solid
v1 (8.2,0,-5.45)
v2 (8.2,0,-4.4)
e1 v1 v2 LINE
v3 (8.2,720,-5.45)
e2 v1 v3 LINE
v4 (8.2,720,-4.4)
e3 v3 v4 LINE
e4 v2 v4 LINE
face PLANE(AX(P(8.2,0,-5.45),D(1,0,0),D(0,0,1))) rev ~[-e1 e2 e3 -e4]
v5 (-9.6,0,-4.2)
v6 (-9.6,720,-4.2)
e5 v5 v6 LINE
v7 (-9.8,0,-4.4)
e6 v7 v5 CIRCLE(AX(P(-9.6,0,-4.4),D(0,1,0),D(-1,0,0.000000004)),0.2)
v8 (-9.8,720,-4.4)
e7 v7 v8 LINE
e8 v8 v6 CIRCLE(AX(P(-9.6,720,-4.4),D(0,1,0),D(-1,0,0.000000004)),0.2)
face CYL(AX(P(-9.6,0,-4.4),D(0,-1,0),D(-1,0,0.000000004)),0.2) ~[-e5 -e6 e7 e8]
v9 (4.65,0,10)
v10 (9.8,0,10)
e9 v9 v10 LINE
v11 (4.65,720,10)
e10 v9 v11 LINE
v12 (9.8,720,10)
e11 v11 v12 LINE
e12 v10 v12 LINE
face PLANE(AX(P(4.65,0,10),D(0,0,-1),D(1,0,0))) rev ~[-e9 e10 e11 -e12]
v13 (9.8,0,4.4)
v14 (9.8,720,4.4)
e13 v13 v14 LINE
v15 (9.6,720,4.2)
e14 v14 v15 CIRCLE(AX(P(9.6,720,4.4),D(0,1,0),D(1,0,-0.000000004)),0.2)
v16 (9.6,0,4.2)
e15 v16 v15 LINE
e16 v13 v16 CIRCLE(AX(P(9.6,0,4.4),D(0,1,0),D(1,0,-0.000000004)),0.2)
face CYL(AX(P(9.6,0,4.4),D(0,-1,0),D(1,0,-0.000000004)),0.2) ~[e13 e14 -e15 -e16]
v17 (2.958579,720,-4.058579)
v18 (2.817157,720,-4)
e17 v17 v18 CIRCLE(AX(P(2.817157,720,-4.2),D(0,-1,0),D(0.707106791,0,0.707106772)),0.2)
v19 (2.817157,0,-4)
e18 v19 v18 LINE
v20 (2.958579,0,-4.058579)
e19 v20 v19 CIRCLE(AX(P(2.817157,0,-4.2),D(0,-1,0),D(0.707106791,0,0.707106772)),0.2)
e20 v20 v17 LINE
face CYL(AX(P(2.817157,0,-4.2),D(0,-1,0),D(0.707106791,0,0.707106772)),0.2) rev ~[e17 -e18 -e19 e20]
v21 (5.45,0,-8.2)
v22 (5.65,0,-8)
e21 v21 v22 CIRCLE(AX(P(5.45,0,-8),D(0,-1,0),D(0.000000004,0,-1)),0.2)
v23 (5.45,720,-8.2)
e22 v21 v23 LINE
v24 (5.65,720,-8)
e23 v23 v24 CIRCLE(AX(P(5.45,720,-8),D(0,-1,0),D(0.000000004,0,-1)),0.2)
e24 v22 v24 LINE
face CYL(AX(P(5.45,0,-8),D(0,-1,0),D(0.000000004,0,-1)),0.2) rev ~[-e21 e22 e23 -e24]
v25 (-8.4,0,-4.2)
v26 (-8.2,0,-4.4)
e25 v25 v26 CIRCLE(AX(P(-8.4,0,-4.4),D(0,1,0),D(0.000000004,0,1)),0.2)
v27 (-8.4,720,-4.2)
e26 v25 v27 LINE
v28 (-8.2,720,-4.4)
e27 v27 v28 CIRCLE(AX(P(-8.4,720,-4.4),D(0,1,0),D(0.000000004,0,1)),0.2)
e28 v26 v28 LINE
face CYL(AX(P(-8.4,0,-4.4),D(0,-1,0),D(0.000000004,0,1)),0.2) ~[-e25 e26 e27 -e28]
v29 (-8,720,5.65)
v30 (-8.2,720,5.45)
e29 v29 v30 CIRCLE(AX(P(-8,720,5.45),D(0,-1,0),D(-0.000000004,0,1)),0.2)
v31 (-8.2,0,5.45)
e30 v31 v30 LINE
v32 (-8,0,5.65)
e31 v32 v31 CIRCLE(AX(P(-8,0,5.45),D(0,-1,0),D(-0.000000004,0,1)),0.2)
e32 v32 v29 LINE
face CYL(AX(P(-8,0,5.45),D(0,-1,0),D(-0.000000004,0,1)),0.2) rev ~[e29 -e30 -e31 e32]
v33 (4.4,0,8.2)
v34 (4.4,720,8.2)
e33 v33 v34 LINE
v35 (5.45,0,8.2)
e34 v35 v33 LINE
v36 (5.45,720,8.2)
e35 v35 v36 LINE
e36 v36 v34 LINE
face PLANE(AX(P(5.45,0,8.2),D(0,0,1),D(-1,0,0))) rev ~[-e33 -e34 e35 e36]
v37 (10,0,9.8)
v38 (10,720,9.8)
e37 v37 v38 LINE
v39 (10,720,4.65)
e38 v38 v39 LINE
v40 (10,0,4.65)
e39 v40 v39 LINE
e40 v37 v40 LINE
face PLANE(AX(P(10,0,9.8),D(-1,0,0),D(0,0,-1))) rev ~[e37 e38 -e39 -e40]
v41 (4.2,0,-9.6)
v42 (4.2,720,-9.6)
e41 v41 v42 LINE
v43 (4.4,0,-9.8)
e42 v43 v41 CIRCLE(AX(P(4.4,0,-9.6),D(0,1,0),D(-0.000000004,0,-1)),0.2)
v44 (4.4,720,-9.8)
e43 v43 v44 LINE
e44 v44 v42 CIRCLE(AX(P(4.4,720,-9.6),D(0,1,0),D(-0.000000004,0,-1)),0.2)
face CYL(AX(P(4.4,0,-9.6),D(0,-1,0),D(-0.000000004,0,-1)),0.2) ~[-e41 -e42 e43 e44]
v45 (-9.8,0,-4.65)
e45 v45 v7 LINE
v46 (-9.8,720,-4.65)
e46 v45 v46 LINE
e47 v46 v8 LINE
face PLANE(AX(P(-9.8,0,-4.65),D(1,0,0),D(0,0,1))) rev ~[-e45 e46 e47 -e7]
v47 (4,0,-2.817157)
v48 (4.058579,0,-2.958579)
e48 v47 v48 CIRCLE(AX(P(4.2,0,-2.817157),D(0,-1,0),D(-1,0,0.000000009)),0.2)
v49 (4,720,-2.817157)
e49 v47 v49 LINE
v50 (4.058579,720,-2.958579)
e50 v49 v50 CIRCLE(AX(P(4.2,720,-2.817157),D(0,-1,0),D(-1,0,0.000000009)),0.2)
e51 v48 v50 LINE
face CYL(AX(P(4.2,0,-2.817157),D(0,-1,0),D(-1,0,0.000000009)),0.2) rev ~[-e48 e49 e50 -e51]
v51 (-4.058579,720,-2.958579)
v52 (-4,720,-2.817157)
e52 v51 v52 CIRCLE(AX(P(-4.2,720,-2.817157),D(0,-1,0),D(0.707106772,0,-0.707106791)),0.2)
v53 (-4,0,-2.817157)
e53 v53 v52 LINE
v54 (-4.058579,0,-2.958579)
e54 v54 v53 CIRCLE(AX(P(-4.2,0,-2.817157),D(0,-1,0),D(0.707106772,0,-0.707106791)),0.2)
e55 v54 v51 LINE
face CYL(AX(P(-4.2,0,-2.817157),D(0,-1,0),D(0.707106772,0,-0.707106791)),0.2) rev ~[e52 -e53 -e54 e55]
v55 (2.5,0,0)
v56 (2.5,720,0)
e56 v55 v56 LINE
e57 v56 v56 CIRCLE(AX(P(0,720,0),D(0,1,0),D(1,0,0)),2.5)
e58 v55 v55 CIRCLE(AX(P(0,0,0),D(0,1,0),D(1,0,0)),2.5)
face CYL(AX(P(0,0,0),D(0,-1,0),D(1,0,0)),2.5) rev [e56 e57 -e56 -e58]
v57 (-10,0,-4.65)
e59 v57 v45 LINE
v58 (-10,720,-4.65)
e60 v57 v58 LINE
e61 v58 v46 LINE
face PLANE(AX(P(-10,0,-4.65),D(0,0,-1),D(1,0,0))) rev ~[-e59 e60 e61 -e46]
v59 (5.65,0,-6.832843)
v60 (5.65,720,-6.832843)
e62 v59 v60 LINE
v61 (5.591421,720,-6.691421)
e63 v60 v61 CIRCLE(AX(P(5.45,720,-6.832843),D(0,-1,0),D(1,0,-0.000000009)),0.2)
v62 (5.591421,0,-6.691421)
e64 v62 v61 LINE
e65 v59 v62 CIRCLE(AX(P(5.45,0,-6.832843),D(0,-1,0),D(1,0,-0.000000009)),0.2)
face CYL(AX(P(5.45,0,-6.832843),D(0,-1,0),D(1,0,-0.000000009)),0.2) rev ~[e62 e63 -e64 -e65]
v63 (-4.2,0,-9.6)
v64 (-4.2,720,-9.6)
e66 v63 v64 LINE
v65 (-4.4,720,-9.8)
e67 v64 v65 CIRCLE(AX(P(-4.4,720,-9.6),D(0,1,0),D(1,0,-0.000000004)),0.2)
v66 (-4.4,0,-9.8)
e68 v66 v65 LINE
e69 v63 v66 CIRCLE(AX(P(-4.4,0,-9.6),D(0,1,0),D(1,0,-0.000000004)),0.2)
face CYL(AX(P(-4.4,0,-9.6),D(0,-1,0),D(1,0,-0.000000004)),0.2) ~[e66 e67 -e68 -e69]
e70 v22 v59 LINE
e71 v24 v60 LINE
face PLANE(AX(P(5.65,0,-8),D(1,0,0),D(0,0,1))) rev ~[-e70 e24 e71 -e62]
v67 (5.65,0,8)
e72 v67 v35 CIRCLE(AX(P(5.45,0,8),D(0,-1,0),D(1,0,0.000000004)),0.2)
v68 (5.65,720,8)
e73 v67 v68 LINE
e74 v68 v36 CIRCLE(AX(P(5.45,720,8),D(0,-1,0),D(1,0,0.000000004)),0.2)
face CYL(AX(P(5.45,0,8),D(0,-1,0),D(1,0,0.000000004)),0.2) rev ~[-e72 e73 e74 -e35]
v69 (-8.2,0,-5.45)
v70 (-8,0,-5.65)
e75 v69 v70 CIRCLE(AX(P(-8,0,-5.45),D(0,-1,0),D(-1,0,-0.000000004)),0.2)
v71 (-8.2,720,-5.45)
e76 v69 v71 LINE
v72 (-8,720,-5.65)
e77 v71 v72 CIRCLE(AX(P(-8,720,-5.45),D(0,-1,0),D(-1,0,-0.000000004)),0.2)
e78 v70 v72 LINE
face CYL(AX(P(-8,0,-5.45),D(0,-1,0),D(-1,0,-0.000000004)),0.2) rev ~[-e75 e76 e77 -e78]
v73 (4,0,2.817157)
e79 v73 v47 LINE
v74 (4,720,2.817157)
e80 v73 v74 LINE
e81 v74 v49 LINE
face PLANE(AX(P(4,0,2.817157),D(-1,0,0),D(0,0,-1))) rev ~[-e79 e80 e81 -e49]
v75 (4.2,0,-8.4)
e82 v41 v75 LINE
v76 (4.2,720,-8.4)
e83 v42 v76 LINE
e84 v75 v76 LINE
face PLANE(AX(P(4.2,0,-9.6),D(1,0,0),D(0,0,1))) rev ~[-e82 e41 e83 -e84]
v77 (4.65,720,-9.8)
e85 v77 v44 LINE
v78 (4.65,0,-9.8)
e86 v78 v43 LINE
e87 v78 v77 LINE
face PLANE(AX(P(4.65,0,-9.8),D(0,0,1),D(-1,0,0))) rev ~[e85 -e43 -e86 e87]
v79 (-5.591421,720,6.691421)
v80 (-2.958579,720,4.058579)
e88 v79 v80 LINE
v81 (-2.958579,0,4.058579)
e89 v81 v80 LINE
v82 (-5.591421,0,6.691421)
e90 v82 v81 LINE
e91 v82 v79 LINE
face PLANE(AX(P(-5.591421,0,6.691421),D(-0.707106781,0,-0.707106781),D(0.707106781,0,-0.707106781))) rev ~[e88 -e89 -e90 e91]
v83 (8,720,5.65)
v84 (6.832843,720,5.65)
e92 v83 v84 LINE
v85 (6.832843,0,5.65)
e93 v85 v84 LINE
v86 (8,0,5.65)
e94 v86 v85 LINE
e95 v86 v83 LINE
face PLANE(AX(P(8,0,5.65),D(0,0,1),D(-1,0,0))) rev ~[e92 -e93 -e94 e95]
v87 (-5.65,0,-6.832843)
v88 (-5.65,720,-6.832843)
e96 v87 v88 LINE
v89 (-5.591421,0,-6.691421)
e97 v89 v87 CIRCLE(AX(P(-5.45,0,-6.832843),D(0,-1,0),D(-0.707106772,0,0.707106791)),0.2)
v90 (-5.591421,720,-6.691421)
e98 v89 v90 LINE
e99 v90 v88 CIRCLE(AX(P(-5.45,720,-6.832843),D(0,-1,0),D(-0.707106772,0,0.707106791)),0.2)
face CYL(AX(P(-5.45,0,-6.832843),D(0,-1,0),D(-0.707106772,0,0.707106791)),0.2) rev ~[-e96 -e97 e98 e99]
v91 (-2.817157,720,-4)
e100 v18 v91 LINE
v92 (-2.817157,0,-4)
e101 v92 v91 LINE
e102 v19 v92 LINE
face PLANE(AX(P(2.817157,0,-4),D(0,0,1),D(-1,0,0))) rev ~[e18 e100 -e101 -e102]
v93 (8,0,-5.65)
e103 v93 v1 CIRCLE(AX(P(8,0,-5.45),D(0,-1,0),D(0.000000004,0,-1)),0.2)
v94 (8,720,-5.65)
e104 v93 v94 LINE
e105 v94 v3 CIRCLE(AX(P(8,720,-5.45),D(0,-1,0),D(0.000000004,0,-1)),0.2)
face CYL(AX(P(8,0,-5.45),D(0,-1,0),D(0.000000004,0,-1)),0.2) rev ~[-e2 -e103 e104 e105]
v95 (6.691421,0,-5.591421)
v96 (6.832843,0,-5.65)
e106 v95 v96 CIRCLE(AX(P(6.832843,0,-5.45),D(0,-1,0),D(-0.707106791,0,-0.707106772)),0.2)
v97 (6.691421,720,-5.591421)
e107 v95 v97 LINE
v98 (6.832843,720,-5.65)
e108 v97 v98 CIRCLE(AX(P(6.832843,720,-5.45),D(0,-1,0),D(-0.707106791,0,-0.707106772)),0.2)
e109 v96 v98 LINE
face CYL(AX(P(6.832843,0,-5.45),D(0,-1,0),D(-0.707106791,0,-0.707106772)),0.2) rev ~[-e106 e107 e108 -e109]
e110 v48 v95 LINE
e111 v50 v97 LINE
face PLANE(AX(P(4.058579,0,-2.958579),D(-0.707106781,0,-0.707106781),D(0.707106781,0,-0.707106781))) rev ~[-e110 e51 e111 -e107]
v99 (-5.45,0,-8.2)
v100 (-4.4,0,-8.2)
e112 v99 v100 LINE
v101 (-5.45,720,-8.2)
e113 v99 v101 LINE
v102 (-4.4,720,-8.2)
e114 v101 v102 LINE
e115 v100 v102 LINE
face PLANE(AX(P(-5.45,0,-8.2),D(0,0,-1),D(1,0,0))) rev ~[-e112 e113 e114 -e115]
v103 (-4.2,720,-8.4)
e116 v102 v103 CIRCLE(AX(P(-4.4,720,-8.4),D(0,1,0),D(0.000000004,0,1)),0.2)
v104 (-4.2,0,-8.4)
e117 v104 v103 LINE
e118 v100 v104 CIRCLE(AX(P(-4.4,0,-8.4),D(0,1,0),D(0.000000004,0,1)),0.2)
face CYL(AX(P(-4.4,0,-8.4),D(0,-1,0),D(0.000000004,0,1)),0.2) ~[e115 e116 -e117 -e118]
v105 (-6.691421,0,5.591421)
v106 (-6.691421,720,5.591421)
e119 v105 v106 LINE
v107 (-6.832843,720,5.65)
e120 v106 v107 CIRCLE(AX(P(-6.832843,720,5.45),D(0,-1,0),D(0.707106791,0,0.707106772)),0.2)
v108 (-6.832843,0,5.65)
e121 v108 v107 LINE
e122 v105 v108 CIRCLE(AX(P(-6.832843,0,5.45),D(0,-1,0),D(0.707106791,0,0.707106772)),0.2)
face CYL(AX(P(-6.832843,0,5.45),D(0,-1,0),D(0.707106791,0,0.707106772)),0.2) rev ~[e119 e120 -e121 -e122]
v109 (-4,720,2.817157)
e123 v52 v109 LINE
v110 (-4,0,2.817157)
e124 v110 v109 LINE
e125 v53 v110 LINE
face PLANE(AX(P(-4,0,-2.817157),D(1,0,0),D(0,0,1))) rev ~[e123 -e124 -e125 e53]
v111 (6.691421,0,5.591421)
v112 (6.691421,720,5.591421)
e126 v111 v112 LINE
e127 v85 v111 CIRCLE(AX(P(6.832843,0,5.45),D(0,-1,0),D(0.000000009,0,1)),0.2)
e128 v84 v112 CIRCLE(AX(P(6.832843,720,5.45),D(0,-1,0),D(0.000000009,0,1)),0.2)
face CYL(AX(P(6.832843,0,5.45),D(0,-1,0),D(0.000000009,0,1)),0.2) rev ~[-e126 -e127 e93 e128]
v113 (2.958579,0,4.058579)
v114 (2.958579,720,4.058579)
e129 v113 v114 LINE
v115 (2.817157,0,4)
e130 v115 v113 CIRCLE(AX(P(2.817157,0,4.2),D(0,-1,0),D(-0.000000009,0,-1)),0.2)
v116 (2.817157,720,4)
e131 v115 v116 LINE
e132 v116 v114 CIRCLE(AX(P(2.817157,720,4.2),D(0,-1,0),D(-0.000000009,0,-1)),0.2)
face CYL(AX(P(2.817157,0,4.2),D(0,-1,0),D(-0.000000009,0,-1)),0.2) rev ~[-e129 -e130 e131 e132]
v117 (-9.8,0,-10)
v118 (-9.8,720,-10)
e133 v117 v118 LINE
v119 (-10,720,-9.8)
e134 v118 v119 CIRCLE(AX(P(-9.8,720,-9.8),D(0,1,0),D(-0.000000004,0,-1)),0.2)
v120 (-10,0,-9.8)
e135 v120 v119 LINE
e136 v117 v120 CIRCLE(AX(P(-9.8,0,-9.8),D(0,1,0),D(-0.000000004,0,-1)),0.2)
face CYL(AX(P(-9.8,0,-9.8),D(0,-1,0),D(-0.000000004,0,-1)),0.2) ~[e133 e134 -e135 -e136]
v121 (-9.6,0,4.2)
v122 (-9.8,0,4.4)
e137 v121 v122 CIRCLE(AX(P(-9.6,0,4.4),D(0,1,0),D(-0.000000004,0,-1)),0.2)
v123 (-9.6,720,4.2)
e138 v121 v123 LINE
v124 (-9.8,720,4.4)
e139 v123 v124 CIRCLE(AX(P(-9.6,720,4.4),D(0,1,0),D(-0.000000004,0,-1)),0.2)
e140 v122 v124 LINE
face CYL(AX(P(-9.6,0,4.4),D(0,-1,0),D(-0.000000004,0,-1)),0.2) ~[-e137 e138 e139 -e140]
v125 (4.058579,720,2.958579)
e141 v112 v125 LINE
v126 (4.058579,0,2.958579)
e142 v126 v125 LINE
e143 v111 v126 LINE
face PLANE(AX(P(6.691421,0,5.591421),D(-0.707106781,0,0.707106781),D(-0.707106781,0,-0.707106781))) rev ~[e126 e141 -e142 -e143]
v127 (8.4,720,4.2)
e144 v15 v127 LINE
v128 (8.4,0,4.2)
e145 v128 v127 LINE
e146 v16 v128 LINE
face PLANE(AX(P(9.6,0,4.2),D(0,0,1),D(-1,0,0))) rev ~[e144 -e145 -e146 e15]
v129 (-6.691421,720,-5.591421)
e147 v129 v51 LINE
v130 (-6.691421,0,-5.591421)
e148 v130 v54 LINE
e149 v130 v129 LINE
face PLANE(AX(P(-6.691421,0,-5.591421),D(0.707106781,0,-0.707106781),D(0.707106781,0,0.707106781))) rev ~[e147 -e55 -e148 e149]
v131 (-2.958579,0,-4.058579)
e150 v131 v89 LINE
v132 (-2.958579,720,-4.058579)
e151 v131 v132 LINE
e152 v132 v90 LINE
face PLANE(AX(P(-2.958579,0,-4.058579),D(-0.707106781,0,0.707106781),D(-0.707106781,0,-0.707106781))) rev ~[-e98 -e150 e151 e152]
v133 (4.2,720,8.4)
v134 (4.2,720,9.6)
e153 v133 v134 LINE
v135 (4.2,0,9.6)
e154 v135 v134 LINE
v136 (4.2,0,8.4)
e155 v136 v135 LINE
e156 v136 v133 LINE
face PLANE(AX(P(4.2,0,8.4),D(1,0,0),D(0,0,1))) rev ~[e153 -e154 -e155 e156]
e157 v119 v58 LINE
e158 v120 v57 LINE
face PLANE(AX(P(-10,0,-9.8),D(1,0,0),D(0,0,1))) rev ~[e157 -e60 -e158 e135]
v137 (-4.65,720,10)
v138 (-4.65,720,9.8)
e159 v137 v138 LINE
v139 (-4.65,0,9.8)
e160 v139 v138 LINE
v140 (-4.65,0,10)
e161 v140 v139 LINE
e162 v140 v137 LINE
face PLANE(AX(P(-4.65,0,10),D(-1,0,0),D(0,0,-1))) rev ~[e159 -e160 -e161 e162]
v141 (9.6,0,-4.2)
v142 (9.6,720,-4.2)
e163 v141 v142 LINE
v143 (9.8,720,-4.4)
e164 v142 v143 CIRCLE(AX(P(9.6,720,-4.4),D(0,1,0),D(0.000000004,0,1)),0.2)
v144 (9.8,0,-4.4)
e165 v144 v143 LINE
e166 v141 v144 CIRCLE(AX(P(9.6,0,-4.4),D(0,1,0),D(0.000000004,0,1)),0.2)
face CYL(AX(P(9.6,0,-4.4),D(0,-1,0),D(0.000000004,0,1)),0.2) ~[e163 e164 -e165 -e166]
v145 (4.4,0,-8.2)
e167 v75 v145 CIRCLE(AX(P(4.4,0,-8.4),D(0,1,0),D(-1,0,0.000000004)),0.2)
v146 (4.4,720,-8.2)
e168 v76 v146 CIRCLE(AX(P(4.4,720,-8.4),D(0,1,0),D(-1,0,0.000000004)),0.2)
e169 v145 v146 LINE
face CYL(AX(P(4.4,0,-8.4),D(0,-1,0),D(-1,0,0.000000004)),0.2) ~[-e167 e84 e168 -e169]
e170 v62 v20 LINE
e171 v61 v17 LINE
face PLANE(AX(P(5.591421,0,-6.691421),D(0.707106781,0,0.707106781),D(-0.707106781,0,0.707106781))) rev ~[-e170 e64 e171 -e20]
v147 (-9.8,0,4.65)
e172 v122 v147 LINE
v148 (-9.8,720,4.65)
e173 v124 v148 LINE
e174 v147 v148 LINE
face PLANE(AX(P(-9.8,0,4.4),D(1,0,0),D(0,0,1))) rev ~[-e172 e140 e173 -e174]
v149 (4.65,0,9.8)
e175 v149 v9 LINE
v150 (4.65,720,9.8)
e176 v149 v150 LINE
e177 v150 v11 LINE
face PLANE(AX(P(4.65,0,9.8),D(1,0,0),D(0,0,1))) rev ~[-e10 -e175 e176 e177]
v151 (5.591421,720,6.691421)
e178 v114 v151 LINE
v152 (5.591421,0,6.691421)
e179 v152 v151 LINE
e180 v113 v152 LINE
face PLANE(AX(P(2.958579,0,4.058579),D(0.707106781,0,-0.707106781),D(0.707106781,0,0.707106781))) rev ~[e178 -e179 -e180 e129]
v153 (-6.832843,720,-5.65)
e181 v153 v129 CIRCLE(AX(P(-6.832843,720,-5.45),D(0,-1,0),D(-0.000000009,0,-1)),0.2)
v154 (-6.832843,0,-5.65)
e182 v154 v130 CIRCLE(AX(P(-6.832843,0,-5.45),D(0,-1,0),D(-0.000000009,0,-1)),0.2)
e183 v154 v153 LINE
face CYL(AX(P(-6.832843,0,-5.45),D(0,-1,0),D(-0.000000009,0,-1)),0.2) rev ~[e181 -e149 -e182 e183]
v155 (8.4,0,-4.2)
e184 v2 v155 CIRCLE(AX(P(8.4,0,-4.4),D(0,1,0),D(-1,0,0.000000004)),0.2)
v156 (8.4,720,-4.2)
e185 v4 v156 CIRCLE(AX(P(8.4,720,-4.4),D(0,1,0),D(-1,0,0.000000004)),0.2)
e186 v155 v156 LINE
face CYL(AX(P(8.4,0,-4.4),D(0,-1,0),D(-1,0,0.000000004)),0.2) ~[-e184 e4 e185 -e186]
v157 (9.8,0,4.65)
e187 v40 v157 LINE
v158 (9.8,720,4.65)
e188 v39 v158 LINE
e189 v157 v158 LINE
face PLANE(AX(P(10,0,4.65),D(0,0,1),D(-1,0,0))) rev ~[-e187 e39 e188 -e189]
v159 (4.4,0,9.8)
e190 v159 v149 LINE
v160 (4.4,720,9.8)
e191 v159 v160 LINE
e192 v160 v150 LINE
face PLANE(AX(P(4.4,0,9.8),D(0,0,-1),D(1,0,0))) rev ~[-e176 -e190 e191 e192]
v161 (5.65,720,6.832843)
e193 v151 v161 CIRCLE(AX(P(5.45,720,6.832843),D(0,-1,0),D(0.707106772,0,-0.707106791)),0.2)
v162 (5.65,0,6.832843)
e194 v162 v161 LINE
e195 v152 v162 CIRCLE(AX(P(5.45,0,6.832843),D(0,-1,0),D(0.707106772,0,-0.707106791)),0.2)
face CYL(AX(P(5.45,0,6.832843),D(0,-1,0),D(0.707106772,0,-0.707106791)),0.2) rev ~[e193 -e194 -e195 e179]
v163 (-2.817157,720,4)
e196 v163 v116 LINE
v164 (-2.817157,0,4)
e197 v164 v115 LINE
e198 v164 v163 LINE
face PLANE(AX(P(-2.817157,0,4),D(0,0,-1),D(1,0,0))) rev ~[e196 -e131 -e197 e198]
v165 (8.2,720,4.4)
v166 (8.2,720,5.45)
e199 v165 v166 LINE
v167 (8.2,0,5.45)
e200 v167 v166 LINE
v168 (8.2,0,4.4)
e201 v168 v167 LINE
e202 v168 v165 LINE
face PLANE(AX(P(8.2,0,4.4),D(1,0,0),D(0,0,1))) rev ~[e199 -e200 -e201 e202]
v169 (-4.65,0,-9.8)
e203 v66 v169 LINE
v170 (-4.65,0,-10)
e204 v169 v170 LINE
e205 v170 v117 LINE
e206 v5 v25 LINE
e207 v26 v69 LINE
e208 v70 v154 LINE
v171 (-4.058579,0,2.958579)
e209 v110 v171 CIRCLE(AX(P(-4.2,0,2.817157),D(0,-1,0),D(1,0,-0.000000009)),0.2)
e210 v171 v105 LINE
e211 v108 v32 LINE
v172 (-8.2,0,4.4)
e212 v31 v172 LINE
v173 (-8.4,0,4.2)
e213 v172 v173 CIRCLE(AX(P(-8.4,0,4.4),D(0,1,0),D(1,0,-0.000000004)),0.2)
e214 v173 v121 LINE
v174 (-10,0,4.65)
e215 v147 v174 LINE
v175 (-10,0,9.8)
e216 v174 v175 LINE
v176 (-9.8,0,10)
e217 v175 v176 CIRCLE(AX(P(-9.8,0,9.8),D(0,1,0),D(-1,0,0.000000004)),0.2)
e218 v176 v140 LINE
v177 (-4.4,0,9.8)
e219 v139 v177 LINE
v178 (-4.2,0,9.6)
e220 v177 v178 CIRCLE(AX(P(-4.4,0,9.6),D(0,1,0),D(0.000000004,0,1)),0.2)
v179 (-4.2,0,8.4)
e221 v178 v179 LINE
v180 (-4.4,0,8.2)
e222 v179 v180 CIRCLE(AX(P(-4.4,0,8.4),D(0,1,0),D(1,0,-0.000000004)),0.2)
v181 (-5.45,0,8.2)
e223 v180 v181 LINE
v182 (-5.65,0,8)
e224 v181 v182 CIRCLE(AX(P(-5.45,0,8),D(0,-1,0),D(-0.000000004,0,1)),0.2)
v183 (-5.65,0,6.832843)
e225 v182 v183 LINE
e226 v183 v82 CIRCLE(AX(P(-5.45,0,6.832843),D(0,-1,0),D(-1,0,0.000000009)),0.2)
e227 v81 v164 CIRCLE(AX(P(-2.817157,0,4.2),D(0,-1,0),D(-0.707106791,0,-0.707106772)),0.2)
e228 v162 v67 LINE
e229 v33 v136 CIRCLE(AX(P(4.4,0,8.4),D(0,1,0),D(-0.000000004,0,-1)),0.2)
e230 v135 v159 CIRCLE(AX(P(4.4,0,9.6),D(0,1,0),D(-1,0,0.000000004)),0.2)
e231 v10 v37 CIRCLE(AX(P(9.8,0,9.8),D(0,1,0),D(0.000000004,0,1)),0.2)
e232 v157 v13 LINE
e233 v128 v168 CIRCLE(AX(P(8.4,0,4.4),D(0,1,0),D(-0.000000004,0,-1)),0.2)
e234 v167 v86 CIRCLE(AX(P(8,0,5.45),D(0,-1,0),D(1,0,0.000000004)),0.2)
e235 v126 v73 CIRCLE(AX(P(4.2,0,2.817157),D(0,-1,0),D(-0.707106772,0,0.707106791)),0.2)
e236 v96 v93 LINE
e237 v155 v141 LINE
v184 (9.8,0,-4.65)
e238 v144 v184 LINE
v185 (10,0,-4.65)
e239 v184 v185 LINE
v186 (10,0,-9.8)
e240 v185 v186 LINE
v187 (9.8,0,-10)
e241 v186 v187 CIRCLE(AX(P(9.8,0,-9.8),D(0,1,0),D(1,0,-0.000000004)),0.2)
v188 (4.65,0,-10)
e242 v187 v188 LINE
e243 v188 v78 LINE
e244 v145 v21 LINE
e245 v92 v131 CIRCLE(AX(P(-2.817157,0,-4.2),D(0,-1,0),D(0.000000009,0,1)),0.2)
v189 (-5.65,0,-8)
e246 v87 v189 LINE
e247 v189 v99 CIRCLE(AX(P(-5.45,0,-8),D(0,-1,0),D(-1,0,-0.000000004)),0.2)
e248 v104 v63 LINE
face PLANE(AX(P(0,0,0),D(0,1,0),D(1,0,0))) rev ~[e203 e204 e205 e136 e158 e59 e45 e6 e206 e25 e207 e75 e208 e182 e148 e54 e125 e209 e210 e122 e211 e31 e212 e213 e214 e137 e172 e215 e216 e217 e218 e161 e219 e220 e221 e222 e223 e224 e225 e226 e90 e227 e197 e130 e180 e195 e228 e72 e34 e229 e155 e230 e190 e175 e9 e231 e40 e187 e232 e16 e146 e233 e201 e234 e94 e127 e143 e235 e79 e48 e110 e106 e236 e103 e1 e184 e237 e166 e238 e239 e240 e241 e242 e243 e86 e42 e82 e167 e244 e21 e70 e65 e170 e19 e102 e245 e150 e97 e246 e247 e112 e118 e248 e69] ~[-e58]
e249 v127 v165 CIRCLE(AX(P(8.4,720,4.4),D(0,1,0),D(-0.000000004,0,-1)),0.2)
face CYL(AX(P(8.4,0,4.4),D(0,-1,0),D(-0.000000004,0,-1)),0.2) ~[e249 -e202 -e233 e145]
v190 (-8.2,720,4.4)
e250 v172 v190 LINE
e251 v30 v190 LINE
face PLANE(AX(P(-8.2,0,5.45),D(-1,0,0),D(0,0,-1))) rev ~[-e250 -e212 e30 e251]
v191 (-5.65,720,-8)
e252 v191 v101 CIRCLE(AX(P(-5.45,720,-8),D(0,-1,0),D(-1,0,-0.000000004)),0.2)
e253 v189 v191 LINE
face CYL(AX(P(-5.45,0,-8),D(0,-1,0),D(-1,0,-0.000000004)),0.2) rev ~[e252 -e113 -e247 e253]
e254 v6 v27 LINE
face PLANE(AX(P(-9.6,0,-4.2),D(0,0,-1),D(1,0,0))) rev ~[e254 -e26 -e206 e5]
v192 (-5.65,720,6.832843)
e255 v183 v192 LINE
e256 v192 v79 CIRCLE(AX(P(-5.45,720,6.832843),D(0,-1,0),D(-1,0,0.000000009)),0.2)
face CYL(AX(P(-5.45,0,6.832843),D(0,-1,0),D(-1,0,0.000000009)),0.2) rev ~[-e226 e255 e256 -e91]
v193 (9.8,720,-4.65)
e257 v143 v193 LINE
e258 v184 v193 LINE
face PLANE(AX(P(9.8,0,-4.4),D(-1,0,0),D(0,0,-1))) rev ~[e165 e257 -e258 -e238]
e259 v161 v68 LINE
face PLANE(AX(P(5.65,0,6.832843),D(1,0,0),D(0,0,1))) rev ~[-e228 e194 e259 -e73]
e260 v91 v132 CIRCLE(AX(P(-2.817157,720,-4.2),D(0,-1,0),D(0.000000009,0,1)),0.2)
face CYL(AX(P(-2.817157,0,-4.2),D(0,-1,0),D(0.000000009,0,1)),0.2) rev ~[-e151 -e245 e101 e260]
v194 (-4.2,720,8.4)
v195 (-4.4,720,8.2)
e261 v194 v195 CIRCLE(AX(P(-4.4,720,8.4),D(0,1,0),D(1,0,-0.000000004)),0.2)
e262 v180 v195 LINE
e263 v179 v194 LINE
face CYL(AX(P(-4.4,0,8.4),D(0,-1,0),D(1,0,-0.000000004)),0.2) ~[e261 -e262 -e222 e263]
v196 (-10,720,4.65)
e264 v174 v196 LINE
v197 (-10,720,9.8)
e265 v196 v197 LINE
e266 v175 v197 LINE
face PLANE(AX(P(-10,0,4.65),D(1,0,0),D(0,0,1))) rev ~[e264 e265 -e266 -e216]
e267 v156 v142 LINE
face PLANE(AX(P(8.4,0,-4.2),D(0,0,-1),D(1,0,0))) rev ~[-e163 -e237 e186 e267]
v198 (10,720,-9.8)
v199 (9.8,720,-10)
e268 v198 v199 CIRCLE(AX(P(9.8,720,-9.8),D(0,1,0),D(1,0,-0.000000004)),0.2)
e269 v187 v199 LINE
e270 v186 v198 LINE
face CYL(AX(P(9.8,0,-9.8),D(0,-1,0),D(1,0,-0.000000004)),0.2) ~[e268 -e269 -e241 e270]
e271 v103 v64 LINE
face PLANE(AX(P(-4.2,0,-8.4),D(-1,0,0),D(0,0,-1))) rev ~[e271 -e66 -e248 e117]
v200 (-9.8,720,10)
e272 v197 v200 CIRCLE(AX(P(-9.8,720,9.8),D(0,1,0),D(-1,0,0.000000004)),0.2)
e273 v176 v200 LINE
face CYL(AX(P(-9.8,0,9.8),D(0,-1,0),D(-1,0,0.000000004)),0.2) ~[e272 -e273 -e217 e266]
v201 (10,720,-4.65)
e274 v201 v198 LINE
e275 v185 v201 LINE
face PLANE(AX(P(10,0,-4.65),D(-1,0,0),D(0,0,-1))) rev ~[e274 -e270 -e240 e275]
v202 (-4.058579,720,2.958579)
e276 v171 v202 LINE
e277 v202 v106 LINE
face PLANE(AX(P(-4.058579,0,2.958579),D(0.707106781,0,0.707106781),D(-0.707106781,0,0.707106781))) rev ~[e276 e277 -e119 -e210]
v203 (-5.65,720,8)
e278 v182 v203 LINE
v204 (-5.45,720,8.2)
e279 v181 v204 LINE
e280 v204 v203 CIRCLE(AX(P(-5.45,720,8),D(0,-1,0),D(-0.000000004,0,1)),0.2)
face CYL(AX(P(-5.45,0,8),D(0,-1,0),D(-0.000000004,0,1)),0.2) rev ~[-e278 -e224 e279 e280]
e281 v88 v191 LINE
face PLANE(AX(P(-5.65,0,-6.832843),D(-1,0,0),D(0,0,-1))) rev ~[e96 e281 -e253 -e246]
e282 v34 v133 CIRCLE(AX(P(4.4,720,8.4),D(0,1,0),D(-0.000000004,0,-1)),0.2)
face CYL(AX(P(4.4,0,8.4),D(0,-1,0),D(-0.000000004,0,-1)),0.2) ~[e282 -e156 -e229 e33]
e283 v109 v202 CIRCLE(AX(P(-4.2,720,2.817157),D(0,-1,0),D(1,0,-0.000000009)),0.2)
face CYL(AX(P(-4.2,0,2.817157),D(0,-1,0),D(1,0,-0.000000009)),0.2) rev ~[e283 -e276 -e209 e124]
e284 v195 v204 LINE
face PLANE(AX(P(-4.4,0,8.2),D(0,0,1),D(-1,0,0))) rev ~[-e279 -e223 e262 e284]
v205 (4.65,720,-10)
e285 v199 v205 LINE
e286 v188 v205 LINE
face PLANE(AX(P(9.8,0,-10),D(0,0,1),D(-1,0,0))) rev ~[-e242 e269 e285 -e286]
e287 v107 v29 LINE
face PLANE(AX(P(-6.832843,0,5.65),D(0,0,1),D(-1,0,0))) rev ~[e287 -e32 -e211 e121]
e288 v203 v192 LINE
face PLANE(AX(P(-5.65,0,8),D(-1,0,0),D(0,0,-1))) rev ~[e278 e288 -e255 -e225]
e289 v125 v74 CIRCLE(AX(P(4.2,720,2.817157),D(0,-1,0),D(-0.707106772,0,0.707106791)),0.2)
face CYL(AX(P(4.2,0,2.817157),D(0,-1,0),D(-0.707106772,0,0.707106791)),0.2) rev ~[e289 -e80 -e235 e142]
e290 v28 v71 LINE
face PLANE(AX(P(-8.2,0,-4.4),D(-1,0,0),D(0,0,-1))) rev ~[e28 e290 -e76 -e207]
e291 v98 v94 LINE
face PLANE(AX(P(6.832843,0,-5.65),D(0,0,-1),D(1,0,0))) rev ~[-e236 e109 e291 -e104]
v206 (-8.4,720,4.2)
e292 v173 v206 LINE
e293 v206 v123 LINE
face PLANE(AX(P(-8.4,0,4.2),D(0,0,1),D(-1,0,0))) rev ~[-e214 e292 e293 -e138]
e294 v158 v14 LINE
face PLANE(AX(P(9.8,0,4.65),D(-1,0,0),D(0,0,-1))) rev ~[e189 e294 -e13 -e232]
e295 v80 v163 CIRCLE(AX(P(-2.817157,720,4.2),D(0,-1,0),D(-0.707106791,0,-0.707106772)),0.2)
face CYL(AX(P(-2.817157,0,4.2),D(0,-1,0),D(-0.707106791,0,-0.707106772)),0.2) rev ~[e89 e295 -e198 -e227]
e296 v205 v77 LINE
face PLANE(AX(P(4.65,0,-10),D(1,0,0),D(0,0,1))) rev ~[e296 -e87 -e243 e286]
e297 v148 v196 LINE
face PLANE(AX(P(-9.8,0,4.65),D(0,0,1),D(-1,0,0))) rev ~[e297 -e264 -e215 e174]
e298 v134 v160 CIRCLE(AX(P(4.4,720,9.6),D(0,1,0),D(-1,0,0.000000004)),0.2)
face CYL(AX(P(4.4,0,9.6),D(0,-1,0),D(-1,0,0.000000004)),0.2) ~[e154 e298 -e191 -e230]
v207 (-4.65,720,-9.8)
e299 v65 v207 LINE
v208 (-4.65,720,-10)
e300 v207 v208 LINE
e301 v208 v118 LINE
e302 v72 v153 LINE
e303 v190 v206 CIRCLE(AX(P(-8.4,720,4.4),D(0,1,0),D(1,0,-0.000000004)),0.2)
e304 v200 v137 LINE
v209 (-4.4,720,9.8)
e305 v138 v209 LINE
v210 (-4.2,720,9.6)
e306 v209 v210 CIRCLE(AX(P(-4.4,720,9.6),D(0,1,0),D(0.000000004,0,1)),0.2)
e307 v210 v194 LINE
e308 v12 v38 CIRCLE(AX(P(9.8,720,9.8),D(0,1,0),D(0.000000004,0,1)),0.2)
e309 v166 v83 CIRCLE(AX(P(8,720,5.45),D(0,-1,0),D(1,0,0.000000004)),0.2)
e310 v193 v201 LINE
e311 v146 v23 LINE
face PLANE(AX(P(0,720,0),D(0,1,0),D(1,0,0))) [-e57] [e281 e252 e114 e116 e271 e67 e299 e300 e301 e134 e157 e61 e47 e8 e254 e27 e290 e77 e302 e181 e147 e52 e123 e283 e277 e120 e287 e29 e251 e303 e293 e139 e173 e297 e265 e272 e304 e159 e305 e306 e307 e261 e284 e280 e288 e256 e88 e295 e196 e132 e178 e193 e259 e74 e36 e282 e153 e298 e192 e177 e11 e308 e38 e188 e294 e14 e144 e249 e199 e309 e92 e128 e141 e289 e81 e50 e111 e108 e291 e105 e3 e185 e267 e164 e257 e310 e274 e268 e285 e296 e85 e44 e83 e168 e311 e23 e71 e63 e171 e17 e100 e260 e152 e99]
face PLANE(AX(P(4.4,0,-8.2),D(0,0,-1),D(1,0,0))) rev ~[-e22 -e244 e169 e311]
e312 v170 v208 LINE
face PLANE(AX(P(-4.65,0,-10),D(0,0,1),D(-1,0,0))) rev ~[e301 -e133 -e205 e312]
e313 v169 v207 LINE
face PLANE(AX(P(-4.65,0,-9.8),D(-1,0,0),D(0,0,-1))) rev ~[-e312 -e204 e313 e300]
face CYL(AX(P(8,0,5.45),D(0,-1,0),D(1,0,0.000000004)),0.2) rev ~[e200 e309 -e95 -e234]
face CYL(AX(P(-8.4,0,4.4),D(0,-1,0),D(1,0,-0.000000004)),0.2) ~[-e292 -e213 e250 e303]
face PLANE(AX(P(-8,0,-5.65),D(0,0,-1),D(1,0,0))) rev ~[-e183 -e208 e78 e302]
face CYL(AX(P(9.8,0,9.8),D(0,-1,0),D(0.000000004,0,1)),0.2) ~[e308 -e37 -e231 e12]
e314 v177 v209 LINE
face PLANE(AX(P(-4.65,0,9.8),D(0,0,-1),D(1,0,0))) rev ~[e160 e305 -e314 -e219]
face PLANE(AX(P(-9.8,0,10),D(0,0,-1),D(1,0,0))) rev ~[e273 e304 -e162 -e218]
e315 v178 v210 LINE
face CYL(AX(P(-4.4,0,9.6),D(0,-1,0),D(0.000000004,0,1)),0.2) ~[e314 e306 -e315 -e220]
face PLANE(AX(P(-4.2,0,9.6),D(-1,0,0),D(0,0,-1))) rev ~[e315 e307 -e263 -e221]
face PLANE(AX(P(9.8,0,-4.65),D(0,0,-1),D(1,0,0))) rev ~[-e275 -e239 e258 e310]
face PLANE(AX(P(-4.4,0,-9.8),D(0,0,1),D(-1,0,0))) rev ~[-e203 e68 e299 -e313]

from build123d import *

# Parameters (mm, degrees)
SKETCH1_R           = 2.5
BOSS_EXTRUDE1_DEPTH = 720


with BuildPart() as part:
    # Sketch1 → Boss-Extrude1 (new body)
    with BuildSketch(Plane(origin=(0, 0, 0), x_dir=(1, 0, 0), z_dir=(0, 1, 0))):
        with BuildLine():
            Line((-10, 4.65), (-9.8, 4.65))
            Line((-9.8, 4.65), (-9.8, 4.4))
            ThreePointArc((-9.8, 4.4), (-9.741421356, 4.258578644), (-9.6, 4.2))
            Line((-9.6, 4.2), (-8.4, 4.2))
            ThreePointArc((-8.4, 4.2), (-8.258578644, 4.258578644), (-8.2, 4.4))
            Line((-8.2, 4.4), (-8.2, 5.45))
            ThreePointArc((-8.2, 5.45), (-8.141421356, 5.591421356), (-8, 5.65))
            Line((-8, 5.65), (-6.832842712, 5.65))
            ThreePointArc((-6.832842712, 5.65), (-6.756306026, 5.634775907), (-6.691421356, 5.591421356))
            Line((-6.691421356, 5.591421356), (-4.058578644, 2.958578644))
            ThreePointArc((-4.058578644, 2.958578644), (-4.015224093, 2.893693974), (-4, 2.817157288))
            Line((-4, 2.817157288), (-4, -2.817157288))
            ThreePointArc((-4, -2.817157288), (-4.015224093, -2.893693974), (-4.058578644, -2.958578644))
            Line((-4.058578644, -2.958578644), (-6.691421356, -5.591421356))
            ThreePointArc((-6.691421356, -5.591421356), (-6.756306026, -5.634775907), (-6.832842712, -5.65))
            Line((-6.832842712, -5.65), (-8, -5.65))
            ThreePointArc((-8, -5.65), (-8.141421356, -5.591421356), (-8.2, -5.45))
            Line((-8.2, -5.45), (-8.2, -4.4))
            ThreePointArc((-8.2, -4.4), (-8.258578644, -4.258578644), (-8.4, -4.2))
            Line((-8.4, -4.2), (-9.6, -4.2))
            ThreePointArc((-9.6, -4.2), (-9.741421356, -4.258578644), (-9.8, -4.4))
            Line((-9.8, -4.4), (-9.8, -4.65))
            Line((-9.8, -4.65), (-10, -4.65))
            Line((-10, -4.65), (-10, -9.8))
            ThreePointArc((-10, -9.8), (-9.941421356, -9.941421356), (-9.8, -10))
            Line((-9.8, -10), (-4.65, -10))
            Line((-4.65, -10), (-4.65, -9.8))
            Line((-4.65, -9.8), (-4.4, -9.8))
            ThreePointArc((-4.4, -9.8), (-4.258578644, -9.741421356), (-4.2, -9.6))
            Line((-4.2, -9.6), (-4.2, -8.4))
            ThreePointArc((-4.2, -8.4), (-4.258578644, -8.258578644), (-4.4, -8.2))
            Line((-4.4, -8.2), (-5.45, -8.2))
            ThreePointArc((-5.45, -8.2), (-5.591421356, -8.141421356), (-5.65, -8))
            Line((-5.65, -8), (-5.65, -6.832842712))
            ThreePointArc((-5.65, -6.832842712), (-5.634775907, -6.756306026), (-5.591421356, -6.691421356))
            Line((-5.591421356, -6.691421356), (-2.958578644, -4.058578644))
            ThreePointArc((-2.958578644, -4.058578644), (-2.893693974, -4.015224093), (-2.817157288, -4))
            Line((-2.817157288, -4), (2.817157288, -4))
            ThreePointArc((2.817157288, -4), (2.893693974, -4.015224093), (2.958578644, -4.058578644))
            Line((2.958578644, -4.058578644), (5.591421356, -6.691421356))
            ThreePointArc((5.591421356, -6.691421356), (5.634775907, -6.756306026), (5.65, -6.832842712))
            Line((5.65, -6.832842712), (5.65, -8))
            ThreePointArc((5.65, -8), (5.591421356, -8.141421356), (5.45, -8.2))
            Line((5.45, -8.2), (4.4, -8.2))
            ThreePointArc((4.4, -8.2), (4.258578644, -8.258578644), (4.2, -8.4))
            Line((4.2, -8.4), (4.2, -9.6))
            ThreePointArc((4.2, -9.6), (4.258578644, -9.741421356), (4.4, -9.8))
            Line((4.4, -9.8), (4.65, -9.8))
            Line((4.65, -9.8), (4.65, -10))
            Line((4.65, -10), (9.8, -10))
            ThreePointArc((9.8, -10), (9.941421356, -9.941421356), (10, -9.8))
            Line((10, -9.8), (10, -4.65))
            Line((10, -4.65), (9.8, -4.65))
            Line((9.8, -4.65), (9.8, -4.4))
            ThreePointArc((9.8, -4.4), (9.741421356, -4.258578644), (9.6, -4.2))
            Line((9.6, -4.2), (8.4, -4.2))
            ThreePointArc((8.4, -4.2), (8.258578644, -4.258578644), (8.2, -4.4))
            Line((8.2, -4.4), (8.2, -5.45))
            ThreePointArc((8.2, -5.45), (8.141421356, -5.591421356), (8, -5.65))
            Line((8, -5.65), (6.832842712, -5.65))
            ThreePointArc((6.832842712, -5.65), (6.756306026, -5.634775907), (6.691421356, -5.591421356))
            Line((6.691421356, -5.591421356), (4.058578644, -2.958578644))
            ThreePointArc((4.058578644, -2.958578644), (4.015224093, -2.893693974), (4, -2.817157288))
            Line((4, -2.817157288), (4, 2.817157288))
            ThreePointArc((4, 2.817157288), (4.015224093, 2.893693974), (4.058578644, 2.958578644))
            Line((4.058578644, 2.958578644), (6.691421356, 5.591421356))
            ThreePointArc((6.691421356, 5.591421356), (6.756306026, 5.634775907), (6.832842712, 5.65))
            Line((6.832842712, 5.65), (8, 5.65))
            ThreePointArc((8, 5.65), (8.141421356, 5.591421356), (8.2, 5.45))
            Line((8.2, 5.45), (8.2, 4.4))
            ThreePointArc((8.2, 4.4), (8.258578644, 4.258578644), (8.4, 4.2))
            Line((8.4, 4.2), (9.6, 4.2))
            ThreePointArc((9.6, 4.2), (9.741421356, 4.258578644), (9.8, 4.4))
            Line((9.8, 4.4), (9.8, 4.65))
            Line((9.8, 4.65), (10, 4.65))
            Line((10, 4.65), (10, 9.8))
            ThreePointArc((10, 9.8), (9.941421356, 9.941421356), (9.8, 10))
            Line((9.8, 10), (4.65, 10))
            Line((4.65, 10), (4.65, 9.8))
            Line((4.65, 9.8), (4.4, 9.8))
            ThreePointArc((4.4, 9.8), (4.258578644, 9.741421356), (4.2, 9.6))
            Line((4.2, 9.6), (4.2, 8.4))
            ThreePointArc((4.2, 8.4), (4.258578644, 8.258578644), (4.4, 8.2))
            Line((4.4, 8.2), (5.45, 8.2))
            ThreePointArc((5.45, 8.2), (5.591421356, 8.141421356), (5.65, 8))
            Line((5.65, 8), (5.65, 6.832842712))
            ThreePointArc((5.65, 6.832842712), (5.634775907, 6.756306026), (5.591421356, 6.691421356))
            Line((5.591421356, 6.691421356), (2.958578644, 4.058578644))
            ThreePointArc((2.958578644, 4.058578644), (2.893693974, 4.015224093), (2.817157288, 4))
            Line((2.817157288, 4), (-2.817157288, 4))
            ThreePointArc((-2.817157288, 4), (-2.893693974, 4.015224093), (-2.958578644, 4.058578644))
            Line((-2.958578644, 4.058578644), (-5.591421356, 6.691421356))
            ThreePointArc((-5.591421356, 6.691421356), (-5.634775907, 6.756306026), (-5.65, 6.832842712))
            Line((-5.65, 6.832842712), (-5.65, 8))
            ThreePointArc((-5.65, 8), (-5.591421356, 8.141421356), (-5.45, 8.2))
            Line((-5.45, 8.2), (-4.4, 8.2))
            ThreePointArc((-4.4, 8.2), (-4.258578644, 8.258578644), (-4.2, 8.4))
            Line((-4.2, 8.4), (-4.2, 9.6))
            ThreePointArc((-4.2, 9.6), (-4.258578644, 9.741421356), (-4.4, 9.8))
            Line((-4.4, 9.8), (-4.65, 9.8))
            Line((-4.65, 9.8), (-4.65, 10))
            Line((-4.65, 10), (-9.8, 10))
            ThreePointArc((-9.8, 10), (-9.941421356, 9.941421356), (-10, 9.8))
            Line((-10, 9.8), (-10, 4.65))
        make_face()
        Circle(SKETCH1_R, mode=Mode.SUBTRACT)
    extrude(amount=BOSS_EXTRUDE1_DEPTH)


solid = part.part
